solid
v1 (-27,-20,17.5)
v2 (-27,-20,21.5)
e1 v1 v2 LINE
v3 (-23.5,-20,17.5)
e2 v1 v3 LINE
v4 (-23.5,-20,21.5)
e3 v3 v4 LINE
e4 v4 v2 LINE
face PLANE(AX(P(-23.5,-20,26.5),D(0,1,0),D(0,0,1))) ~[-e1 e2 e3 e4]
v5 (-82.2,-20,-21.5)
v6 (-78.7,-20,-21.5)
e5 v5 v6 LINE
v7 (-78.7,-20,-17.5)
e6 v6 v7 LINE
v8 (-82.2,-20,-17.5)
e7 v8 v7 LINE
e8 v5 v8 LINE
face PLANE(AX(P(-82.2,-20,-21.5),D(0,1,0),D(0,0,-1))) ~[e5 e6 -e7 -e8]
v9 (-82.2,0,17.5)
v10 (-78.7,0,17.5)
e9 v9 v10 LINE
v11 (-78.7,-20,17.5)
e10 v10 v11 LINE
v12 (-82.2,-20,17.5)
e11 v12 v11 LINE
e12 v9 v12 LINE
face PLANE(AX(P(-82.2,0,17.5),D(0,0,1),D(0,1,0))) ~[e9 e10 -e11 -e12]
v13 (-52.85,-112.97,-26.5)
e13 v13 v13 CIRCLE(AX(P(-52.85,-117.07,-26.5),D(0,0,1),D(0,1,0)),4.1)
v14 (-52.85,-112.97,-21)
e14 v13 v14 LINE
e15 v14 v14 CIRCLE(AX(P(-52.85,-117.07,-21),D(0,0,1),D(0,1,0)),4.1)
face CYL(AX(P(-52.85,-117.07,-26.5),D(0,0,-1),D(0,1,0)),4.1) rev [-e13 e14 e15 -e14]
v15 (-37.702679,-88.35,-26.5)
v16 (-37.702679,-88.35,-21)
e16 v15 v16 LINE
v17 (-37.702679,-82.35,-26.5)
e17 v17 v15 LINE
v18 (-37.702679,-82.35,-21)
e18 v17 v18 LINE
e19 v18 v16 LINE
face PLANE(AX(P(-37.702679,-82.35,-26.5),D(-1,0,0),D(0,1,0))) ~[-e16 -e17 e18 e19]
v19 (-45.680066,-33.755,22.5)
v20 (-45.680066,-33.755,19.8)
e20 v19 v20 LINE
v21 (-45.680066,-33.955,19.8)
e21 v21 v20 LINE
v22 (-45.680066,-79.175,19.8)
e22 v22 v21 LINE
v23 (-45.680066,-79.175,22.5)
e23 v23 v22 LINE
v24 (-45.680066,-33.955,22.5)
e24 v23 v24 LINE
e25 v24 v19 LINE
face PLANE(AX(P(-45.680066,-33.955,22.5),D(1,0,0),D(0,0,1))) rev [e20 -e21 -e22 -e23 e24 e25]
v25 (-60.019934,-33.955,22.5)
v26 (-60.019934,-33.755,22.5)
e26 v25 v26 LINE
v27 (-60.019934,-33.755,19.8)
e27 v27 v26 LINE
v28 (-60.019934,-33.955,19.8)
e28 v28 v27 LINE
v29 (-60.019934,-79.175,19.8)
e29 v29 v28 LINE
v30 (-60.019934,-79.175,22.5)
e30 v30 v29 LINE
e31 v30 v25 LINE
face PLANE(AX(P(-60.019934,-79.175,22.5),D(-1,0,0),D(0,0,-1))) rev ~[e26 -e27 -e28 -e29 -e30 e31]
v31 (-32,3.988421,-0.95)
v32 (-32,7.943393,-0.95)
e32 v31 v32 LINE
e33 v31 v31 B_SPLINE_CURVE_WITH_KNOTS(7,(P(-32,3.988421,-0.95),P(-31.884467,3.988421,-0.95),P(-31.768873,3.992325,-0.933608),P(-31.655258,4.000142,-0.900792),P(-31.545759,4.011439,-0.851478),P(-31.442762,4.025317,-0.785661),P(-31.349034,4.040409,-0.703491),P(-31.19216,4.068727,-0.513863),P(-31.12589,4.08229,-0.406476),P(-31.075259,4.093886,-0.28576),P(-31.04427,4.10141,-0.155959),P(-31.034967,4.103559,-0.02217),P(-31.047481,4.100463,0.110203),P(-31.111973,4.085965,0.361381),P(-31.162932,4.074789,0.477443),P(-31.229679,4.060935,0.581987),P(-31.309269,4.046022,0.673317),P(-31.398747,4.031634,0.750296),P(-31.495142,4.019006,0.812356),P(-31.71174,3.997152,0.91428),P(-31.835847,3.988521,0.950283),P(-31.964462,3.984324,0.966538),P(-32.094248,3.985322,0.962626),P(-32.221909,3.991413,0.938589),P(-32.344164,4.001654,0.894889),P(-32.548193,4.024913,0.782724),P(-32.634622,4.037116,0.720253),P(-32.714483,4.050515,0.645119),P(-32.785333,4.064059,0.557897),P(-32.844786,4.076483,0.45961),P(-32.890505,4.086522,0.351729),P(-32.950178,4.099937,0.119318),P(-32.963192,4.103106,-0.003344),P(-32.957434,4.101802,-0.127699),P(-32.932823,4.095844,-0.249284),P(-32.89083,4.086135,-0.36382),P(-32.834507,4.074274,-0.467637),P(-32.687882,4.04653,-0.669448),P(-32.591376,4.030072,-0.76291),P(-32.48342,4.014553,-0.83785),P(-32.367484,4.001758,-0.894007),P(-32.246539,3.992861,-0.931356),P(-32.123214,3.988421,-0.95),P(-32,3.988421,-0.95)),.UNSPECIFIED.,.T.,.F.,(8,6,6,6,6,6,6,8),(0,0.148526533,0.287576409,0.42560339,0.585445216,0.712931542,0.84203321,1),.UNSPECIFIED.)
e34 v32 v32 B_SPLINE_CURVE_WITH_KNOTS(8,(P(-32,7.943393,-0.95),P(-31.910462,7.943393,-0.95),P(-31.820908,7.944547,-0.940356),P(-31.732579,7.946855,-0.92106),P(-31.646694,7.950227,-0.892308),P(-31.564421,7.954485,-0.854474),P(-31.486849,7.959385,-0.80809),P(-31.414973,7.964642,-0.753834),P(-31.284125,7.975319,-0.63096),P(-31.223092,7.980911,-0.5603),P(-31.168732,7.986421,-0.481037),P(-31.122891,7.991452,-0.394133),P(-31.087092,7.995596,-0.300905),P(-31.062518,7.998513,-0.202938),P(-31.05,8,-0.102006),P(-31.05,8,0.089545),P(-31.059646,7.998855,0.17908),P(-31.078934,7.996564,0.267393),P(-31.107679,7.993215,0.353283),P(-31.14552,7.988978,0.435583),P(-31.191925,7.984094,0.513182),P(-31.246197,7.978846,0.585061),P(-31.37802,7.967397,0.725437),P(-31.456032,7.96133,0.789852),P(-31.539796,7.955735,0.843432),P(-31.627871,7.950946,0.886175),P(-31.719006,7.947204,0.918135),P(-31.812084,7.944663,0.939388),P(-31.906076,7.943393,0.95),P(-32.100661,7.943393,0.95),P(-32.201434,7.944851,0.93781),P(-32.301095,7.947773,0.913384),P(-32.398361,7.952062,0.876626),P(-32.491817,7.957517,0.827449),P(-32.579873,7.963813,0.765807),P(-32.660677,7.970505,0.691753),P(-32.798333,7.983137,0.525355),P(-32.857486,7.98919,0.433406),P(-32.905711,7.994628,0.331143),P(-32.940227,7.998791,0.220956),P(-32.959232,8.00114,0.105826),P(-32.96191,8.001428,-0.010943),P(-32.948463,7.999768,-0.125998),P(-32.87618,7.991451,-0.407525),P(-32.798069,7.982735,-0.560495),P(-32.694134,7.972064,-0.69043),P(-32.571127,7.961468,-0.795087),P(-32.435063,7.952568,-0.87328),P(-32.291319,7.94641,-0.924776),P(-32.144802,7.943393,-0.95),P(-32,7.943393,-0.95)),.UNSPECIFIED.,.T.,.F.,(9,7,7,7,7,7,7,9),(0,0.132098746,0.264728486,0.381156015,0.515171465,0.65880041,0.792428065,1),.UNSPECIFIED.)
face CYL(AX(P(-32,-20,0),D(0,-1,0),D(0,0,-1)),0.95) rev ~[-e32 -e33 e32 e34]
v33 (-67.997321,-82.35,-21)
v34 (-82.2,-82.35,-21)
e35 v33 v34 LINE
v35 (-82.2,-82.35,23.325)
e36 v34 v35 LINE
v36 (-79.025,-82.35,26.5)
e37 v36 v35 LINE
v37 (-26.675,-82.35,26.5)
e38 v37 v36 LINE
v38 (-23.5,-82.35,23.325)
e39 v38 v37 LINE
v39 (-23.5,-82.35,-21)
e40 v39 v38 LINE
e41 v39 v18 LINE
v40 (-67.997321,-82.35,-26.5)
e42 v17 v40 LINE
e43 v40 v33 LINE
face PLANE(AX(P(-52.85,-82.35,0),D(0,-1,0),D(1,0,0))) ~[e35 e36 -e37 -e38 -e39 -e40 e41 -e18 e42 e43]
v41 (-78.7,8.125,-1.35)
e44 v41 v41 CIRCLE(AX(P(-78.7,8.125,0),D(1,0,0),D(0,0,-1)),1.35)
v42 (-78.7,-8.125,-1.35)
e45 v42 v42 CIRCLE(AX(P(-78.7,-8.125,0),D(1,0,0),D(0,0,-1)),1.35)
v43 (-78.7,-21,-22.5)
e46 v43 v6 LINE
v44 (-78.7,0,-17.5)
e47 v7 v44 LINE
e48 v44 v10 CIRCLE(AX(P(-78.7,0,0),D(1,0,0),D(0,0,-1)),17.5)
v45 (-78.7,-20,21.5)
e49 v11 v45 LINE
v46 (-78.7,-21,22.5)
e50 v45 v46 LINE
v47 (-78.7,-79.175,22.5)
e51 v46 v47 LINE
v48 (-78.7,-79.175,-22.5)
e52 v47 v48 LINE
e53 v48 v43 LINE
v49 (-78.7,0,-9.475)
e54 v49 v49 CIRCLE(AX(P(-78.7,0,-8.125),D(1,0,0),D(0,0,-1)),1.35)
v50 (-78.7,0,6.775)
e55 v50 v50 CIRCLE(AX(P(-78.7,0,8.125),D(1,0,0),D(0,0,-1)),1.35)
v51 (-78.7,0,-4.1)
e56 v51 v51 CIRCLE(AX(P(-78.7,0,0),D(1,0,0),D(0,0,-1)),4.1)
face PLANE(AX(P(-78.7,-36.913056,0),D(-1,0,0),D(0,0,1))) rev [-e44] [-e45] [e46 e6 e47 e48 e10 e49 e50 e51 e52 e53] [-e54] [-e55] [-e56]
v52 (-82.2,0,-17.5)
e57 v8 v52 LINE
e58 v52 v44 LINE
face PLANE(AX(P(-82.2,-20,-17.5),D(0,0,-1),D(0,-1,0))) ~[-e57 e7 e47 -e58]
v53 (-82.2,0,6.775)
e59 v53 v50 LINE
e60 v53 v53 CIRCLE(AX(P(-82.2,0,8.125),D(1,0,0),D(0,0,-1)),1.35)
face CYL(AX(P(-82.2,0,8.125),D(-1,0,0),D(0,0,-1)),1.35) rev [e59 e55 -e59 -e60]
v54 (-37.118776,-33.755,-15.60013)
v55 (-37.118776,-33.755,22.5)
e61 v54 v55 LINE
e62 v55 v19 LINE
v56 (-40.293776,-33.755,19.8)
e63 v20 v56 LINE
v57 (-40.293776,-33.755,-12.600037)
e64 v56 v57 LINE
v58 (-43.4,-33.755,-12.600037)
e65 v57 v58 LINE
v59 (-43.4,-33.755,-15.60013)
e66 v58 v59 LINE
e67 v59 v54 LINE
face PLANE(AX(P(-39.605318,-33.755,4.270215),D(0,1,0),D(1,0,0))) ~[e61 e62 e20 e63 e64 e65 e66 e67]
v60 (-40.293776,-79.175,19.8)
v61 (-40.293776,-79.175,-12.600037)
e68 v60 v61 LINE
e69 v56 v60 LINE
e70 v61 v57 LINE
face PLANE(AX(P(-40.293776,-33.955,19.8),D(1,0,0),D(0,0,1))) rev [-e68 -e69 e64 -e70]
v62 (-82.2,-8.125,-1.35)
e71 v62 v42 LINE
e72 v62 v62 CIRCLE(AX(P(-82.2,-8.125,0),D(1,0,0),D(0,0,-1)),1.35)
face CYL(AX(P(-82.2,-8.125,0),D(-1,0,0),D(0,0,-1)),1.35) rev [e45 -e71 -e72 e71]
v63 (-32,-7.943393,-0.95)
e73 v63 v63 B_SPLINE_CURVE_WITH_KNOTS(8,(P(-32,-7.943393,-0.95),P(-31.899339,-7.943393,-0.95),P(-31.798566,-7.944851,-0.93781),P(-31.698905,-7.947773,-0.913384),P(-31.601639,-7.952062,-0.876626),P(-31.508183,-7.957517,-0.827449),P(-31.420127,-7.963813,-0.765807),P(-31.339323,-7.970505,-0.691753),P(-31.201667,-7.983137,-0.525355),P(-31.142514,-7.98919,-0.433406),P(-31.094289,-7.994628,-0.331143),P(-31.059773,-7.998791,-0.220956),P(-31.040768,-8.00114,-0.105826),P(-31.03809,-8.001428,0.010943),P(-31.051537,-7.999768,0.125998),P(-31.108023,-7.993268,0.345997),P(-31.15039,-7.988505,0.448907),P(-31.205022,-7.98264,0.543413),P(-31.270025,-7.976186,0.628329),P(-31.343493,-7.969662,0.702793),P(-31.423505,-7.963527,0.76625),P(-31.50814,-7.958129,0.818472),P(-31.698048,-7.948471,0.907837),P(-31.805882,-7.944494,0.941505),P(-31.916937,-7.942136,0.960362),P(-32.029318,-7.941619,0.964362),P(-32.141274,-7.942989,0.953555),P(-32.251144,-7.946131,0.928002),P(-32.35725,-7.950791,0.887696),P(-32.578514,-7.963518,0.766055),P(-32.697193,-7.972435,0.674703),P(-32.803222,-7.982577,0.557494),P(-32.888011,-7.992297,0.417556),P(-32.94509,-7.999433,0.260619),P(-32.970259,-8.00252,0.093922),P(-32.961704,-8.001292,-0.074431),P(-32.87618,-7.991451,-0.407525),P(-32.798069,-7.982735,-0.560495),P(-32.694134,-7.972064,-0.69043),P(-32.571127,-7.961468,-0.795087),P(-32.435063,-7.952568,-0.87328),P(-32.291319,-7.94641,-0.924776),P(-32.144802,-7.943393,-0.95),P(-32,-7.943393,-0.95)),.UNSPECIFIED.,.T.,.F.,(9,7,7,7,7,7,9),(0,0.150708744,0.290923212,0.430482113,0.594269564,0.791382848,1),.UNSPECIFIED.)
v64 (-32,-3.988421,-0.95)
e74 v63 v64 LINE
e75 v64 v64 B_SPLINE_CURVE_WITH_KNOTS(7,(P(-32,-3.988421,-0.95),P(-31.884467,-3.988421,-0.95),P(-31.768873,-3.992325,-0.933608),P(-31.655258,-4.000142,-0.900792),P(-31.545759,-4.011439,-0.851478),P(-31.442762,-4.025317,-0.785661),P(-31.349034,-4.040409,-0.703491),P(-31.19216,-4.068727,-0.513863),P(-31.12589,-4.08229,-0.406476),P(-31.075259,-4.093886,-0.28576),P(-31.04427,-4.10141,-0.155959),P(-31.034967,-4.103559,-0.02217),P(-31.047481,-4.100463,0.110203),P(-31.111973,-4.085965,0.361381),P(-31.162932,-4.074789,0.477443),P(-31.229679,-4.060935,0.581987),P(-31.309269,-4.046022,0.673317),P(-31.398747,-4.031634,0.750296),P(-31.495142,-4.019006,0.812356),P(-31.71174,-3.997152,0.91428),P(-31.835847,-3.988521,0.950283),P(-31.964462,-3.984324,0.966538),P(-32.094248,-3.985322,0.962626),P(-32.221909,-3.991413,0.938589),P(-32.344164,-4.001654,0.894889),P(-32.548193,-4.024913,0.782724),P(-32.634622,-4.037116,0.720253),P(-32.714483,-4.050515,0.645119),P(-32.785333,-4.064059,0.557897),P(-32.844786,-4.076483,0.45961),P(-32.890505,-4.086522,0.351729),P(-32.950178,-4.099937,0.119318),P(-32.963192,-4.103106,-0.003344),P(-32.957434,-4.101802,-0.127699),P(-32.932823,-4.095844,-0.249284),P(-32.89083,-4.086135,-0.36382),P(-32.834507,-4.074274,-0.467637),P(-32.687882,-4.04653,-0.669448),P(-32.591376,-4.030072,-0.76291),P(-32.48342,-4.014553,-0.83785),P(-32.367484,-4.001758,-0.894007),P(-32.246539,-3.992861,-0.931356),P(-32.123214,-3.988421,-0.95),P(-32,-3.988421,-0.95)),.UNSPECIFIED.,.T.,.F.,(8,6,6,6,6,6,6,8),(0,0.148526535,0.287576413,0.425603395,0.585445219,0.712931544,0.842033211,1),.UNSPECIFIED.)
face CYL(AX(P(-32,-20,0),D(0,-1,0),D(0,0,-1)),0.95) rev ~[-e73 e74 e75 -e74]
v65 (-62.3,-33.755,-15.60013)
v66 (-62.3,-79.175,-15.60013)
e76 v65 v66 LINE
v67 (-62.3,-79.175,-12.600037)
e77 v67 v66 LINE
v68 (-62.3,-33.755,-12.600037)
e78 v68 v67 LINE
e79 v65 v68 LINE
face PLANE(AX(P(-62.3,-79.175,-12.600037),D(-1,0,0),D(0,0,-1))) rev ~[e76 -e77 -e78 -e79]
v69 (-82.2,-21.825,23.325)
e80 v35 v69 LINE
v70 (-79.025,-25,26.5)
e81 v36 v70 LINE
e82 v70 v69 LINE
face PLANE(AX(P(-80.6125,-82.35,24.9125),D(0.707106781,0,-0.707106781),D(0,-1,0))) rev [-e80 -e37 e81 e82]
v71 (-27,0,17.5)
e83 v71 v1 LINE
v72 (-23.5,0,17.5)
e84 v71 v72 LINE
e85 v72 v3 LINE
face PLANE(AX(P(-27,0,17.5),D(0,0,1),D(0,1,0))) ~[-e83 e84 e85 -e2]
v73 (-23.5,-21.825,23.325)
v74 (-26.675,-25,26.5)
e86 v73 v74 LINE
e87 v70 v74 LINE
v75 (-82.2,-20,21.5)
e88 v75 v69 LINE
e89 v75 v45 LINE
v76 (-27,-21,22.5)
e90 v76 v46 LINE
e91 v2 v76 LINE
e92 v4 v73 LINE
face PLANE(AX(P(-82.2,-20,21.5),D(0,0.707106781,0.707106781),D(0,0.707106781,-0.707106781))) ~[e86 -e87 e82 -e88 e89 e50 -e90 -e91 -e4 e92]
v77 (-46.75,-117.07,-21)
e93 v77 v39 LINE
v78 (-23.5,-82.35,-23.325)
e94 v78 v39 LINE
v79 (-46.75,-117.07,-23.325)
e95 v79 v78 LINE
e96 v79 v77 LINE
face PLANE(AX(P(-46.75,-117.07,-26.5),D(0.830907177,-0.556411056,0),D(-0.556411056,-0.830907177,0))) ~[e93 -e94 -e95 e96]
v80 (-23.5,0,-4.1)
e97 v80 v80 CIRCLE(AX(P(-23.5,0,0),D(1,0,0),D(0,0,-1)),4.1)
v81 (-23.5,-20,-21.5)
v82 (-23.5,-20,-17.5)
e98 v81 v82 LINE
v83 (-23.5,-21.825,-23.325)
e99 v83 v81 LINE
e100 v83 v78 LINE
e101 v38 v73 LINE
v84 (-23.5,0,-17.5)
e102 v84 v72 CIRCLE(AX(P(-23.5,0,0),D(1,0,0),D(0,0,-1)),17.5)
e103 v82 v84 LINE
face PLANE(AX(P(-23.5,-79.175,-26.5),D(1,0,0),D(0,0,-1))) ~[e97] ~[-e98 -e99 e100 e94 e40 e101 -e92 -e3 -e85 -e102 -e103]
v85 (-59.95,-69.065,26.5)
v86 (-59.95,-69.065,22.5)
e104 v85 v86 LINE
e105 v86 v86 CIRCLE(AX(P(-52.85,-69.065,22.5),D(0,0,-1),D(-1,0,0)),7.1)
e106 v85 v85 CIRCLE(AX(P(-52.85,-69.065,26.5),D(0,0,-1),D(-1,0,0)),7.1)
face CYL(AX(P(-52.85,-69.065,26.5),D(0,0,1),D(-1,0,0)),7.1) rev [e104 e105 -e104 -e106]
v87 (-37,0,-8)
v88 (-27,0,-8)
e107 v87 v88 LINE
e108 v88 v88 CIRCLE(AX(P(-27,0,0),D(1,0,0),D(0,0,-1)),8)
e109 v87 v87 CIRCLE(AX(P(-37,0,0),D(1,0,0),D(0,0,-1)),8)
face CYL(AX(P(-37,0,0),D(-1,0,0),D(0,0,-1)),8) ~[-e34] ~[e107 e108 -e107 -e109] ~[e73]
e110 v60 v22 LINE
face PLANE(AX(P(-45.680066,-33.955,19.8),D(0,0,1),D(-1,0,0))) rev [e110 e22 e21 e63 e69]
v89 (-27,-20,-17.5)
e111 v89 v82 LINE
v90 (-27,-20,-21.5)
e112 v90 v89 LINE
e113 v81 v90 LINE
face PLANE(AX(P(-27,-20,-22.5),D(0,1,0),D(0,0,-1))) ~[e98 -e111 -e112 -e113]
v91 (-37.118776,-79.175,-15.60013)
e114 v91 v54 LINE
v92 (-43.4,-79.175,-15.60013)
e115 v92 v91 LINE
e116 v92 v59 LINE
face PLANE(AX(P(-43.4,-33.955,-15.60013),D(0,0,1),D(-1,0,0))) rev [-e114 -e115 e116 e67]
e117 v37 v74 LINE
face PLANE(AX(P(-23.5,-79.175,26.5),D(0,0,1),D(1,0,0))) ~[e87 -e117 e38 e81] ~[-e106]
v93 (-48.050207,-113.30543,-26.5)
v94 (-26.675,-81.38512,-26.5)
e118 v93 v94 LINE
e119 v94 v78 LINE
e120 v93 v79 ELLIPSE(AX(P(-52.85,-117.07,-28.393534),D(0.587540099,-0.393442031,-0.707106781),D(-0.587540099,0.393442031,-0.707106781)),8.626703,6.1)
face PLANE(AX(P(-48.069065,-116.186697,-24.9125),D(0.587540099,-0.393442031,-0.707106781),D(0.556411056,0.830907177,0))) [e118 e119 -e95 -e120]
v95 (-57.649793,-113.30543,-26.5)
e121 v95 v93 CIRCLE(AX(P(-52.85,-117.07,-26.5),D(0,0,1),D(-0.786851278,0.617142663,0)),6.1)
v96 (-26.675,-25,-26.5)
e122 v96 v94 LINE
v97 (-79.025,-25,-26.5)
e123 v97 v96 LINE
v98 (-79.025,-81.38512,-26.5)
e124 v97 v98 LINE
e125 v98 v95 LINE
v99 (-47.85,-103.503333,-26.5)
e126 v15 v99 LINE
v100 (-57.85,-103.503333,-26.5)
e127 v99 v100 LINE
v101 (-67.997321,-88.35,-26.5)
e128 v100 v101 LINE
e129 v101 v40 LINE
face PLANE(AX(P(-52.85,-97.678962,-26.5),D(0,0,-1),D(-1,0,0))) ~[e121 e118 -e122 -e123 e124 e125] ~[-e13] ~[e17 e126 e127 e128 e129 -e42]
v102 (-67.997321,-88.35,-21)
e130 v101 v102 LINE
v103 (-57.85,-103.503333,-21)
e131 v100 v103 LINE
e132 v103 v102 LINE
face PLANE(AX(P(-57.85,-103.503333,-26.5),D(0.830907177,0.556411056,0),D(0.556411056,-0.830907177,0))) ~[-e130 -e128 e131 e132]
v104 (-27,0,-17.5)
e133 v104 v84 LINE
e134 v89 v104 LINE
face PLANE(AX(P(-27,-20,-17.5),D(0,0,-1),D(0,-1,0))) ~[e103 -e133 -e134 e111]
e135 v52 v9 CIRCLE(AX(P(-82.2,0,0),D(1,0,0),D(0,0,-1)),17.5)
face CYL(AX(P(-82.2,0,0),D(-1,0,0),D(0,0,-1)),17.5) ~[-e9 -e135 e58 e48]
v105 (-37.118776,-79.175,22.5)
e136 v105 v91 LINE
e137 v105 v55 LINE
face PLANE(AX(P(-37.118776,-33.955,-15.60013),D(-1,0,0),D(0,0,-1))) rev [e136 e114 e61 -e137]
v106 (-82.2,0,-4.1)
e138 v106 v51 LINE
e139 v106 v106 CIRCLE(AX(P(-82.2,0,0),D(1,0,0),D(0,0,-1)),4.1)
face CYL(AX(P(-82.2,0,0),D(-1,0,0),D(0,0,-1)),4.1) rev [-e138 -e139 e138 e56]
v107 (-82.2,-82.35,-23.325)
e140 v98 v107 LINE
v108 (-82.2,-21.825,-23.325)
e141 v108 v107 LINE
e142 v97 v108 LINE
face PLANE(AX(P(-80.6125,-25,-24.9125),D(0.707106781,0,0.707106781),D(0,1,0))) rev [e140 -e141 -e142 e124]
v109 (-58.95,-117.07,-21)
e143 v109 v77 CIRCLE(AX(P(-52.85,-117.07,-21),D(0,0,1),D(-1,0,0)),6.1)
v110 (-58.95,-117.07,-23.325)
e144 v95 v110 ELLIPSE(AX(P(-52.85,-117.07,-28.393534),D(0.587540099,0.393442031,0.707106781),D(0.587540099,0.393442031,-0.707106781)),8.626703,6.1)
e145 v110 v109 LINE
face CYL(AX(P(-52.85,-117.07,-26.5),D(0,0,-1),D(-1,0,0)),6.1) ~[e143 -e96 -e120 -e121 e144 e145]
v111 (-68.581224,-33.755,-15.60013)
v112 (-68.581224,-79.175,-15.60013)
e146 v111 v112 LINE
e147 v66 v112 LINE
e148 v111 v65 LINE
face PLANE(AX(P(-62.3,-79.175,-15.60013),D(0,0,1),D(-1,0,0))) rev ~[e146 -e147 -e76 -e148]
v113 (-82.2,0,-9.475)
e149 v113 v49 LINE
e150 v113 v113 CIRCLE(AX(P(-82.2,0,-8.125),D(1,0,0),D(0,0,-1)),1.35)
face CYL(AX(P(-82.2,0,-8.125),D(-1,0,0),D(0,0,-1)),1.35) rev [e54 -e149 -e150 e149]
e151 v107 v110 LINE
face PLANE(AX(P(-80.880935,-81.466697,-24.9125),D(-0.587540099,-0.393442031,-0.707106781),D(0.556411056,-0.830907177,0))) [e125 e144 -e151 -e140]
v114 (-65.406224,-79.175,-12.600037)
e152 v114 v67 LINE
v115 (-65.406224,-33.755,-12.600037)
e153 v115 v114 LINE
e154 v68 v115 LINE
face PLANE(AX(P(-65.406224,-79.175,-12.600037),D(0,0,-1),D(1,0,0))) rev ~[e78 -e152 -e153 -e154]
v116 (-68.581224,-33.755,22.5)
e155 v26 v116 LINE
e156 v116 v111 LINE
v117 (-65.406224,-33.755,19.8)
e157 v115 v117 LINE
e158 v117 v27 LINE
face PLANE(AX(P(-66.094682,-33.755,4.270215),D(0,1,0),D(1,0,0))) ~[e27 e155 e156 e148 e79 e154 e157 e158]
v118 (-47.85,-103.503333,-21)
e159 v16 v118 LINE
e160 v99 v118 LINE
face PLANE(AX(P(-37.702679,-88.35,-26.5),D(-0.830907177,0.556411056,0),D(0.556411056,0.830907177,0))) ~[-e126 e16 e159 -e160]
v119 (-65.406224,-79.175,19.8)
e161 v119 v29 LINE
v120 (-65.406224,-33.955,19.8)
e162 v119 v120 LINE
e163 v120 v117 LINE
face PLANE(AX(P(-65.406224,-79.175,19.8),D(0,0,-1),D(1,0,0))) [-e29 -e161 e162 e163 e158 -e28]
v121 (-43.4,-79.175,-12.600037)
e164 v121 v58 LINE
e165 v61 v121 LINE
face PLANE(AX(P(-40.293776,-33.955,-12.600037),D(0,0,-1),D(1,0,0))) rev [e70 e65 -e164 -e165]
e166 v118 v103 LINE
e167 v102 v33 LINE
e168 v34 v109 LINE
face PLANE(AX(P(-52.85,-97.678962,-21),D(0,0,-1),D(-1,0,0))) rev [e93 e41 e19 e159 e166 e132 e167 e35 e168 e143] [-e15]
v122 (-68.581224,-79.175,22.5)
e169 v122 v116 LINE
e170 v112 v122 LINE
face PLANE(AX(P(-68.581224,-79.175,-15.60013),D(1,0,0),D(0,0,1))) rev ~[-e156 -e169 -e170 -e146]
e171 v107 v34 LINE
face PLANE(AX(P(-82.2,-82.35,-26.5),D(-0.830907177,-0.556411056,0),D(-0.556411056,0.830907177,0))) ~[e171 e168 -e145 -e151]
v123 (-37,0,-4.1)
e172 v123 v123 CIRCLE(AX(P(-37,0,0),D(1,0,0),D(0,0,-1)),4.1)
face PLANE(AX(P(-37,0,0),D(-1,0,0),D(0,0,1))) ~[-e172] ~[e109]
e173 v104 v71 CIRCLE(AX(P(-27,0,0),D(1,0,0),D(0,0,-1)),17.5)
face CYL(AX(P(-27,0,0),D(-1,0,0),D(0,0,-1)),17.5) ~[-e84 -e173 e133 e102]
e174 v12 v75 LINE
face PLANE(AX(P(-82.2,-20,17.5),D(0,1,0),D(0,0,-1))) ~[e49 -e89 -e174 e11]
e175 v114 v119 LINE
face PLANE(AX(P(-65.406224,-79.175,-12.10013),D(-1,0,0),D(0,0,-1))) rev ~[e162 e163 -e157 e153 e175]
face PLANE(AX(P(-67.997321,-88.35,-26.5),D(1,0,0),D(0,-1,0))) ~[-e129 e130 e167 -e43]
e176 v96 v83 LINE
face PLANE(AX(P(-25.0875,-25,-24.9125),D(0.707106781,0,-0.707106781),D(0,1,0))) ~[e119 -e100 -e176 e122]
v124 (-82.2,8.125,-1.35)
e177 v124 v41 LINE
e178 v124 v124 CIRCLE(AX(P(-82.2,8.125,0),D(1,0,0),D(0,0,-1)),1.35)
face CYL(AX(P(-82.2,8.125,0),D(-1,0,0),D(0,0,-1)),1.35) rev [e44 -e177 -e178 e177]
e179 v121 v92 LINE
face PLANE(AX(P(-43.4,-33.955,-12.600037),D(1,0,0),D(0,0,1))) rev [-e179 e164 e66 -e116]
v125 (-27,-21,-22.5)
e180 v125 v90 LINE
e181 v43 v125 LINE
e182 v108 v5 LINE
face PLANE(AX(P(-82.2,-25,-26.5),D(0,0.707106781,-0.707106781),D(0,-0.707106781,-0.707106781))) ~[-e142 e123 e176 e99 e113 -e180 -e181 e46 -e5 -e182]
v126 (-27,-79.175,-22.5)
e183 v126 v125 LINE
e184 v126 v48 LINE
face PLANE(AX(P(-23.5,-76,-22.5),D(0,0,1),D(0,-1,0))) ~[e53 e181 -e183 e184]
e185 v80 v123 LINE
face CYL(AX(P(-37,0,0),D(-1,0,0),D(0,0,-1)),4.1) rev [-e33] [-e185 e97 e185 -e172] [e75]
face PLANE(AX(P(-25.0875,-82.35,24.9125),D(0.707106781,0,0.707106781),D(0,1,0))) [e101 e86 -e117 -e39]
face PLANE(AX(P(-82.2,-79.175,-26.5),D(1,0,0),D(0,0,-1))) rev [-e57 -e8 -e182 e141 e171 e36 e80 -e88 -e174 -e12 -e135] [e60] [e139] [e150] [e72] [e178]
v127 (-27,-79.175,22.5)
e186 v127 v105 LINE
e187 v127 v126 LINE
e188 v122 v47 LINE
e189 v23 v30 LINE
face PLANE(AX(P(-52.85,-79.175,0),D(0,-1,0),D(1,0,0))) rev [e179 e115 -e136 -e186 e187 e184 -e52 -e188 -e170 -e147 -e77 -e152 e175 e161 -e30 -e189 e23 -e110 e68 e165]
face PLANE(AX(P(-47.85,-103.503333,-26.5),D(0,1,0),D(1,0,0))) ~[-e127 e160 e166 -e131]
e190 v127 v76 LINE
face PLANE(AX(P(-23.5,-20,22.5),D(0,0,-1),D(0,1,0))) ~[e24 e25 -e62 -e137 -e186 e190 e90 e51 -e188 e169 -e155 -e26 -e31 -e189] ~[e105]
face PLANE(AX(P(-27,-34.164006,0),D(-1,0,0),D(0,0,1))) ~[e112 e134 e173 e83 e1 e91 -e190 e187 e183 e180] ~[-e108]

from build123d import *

# Parameters (mm, degrees)
SKETCH1_R                = 4.1
BOSS_EXTRUDE1_DEPTH      = 3.5
BOSS_EXTRUDE2_DEPTH      = 51.7
BOSS_EXTRUDE2_DEPTH_BACK = 3.5
CHAMFER2_SIZE            = 5
CUT_EXTRUDE1_REACH       = 112.079
SKETCH4_W                = 51.7
SKETCH4_H                = 45
BOSS_EXTRUDE3_START      = 3.5
SKETCH5_R                = 4.1
BOSS_EXTRUDE3_DEPTH      = 3.5
CUT_EXTRUDE3_REACH       = 104.062
SKETCH9_R                = 1.35
SKETCH10_W               = 58.7
SKETCH10_H               = 53
BOSS_EXTRUDE5_DEPTH      = 3.175
SKETCH26_R               = 7.1
CUT_EXTRUDE6_DEPTH       = 4
SKETCH27_W               = 3.175
SKETCH27_H               = 34.600130378
BOSS_EXTRUDE6_DEPTH      = 45.22
SKETCH29_R               = 4.1
BOSS_EXTRUDE8_DEPTH      = 5.5
CHAMFER3_SIZE            = 3.175
BOSS_EXTRUDE9_START      = 10
SKETCH30_R               = 8
SKETCH30_R_2             = 4.1
BOSS_EXTRUDE9_DEPTH      = 10
SKETCH31_R               = 0.95
CUT_EXTRUDE7_DEPTH       = 120.972242206
BOSS_EXTRUDE10_DEPTH     = 45.22
SKETCH33_W               = 5.386290257
SKETCH33_H               = 2.7
BOSS_EXTRUDE11_DEPTH     = 45.22
BOSS_EXTRUDE12_DEPTH     = 0.2


with BuildPart() as part:
    # Sketch1 → Boss-Extrude1 (new body)
    with BuildSketch(Plane(origin=(0, 0, 0), x_dir=(0, 0, -1), z_dir=(1, 0, 0))):
        with BuildLine():
            Line((-17.5, 0), (-17.5, -20))
            Line((-17.5, -20), (-22.5, -20))
            Line((-22.5, -20), (-22.5, -76))
            Line((-22.5, -76), (22.5, -76))
            Line((22.5, -76), (22.5, -20))
            Line((22.5, -20), (17.5, -20))
            Line((17.5, -20), (17.5, 0))
            ThreePointArc((17.5, 0), (0, 17.5), (-17.5, 0))
        make_face()
        Circle(SKETCH1_R, mode=Mode.SUBTRACT)
    extrude(amount=-BOSS_EXTRUDE1_DEPTH)

    # Sketch2 → Boss-Extrude2 (add, two sides: drawn at the far end of the back side and taken through both)
    with BuildSketch(Plane(origin=(0, 0, 0), x_dir=(0, 0, -1), z_dir=(1, 0, 0)).offset(-BOSS_EXTRUDE2_DEPTH_BACK)):
        Polygon((-22.5, -20), (-22.5, -76), (22.5, -76), (22.5, -20), (26.5, -20), (26.5, -79.175), (-26.5, -79.175), (-26.5, -20), align=None)
    extrude(amount=BOSS_EXTRUDE2_DEPTH + BOSS_EXTRUDE2_DEPTH_BACK)

    # Chamfer2
    chamfer2_edges = [part.edges().sort_by_distance(p)[0] for p in [
        (24.1, -20, -26.5),
        (24.1, -20, 26.5),
    ]]
    chamfer(chamfer2_edges, length=CHAMFER2_SIZE)

    # Sketch4 → Cut-Extrude1 (cut, up to next)
    with BuildSketch(Plane(origin=(0, -76, 0), x_dir=(1, 0, 0), z_dir=(0, 1, 0)), mode=Mode.PRIVATE) as cut_extrude1_sk1:
        with Locations((25.85, 0)):
            Rectangle(SKETCH4_W, SKETCH4_H)
    cut_extrude1_tool1 = extrude(cut_extrude1_sk1.sketch, amount=-CUT_EXTRUDE1_REACH, mode=Mode.PRIVATE) & part.part
    add(cut_extrude1_tool1.solids().sort_by_distance((25.85, -76, 0))[0], mode=Mode.SUBTRACT)

    # Sketch5 → Boss-Extrude3 (add)
    with BuildSketch(Plane(origin=(51.7, 0, 0), x_dir=(0, 0, -1), z_dir=(1, 0, 0)).offset(BOSS_EXTRUDE3_START)):
        with BuildLine():
            Line((21.5, -20), (17.5, -20))
            Line((17.5, -20), (17.5, 0))
            ThreePointArc((17.5, 0), (0, 17.5), (-17.5, 0))
            Line((-17.5, 0), (-17.5, -20))
            Line((-17.5, -20), (-21.5, -20))
            Line((-21.5, -20), (-26.5, -25))
            Line((-26.5, -25), (-26.5, -79.175))
            Line((-26.5, -79.175), (26.5, -79.175))
            Line((26.5, -79.175), (26.5, -25))
            Line((26.5, -25), (21.5, -20))
        make_face()
        Circle(SKETCH5_R, mode=Mode.SUBTRACT)
    extrude(amount=-BOSS_EXTRUDE3_DEPTH)

    # Sketch9 → Cut-Extrude3 (cut, up to next)
    with BuildSketch(Plane(origin=(55.2, 0, 0), x_dir=(0, 0, -1), z_dir=(1, 0, 0)), mode=Mode.PRIVATE) as cut_extrude3_sk1:
        with Locations((0, 8.125)):
            Circle(SKETCH9_R)
    cut_extrude3_tool1 = extrude(cut_extrude3_sk1.sketch, amount=-CUT_EXTRUDE3_REACH, mode=Mode.PRIVATE) & part.part
    # Sketch9 → Cut-Extrude3 (cut, up to next)
    with BuildSketch(Plane(origin=(55.2, 0, 0), x_dir=(0, 0, -1), z_dir=(1, 0, 0)), mode=Mode.PRIVATE) as cut_extrude3_sk2:
        with Locations((8.125, 0)):
            Circle(SKETCH9_R)
    cut_extrude3_tool2 = extrude(cut_extrude3_sk2.sketch, amount=-CUT_EXTRUDE3_REACH, mode=Mode.PRIVATE) & part.part
    # Sketch9 → Cut-Extrude3 (cut, up to next)
    with BuildSketch(Plane(origin=(55.2, 0, 0), x_dir=(0, 0, -1), z_dir=(1, 0, 0)), mode=Mode.PRIVATE) as cut_extrude3_sk3:
        with Locations((0, -8.125)):
            Circle(SKETCH9_R)
    cut_extrude3_tool3 = extrude(cut_extrude3_sk3.sketch, amount=-CUT_EXTRUDE3_REACH, mode=Mode.PRIVATE) & part.part
    # Sketch9 → Cut-Extrude3 (cut, up to next)
    with BuildSketch(Plane(origin=(55.2, 0, 0), x_dir=(0, 0, -1), z_dir=(1, 0, 0)), mode=Mode.PRIVATE) as cut_extrude3_sk4:
        with Locations((-8.125, 0)):
            Circle(SKETCH9_R)
    cut_extrude3_tool4 = extrude(cut_extrude3_sk4.sketch, amount=-CUT_EXTRUDE3_REACH, mode=Mode.PRIVATE) & part.part
    add(cut_extrude3_tool1.solids().sort_by_distance((55.2, 8.125, 0))[0], mode=Mode.SUBTRACT)
    add(cut_extrude3_tool2.solids().sort_by_distance((55.2, 0, -8.125))[0], mode=Mode.SUBTRACT)
    add(cut_extrude3_tool3.solids().sort_by_distance((55.2, -8.125, 0))[0], mode=Mode.SUBTRACT)
    add(cut_extrude3_tool4.solids().sort_by_distance((55.2, 0, 8.125))[0], mode=Mode.SUBTRACT)

    # Sketch10 → Boss-Extrude5 (add)
    with BuildSketch(Plane.XZ.offset(79.175)):
        with Locations((25.85, 0)):
            Rectangle(SKETCH10_W, SKETCH10_H)
    extrude(amount=BOSS_EXTRUDE5_DEPTH)

    # Sketch26 → Cut-Extrude6 (cut)
    with BuildSketch(Plane.XY.offset(26.5)):
        with Locations((25.85, -69.065)):
            Circle(SKETCH26_R)
    extrude(amount=-CUT_EXTRUDE6_DEPTH, mode=Mode.SUBTRACT)

    # Sketch27 → Boss-Extrude6 (add)
    with BuildSketch(Plane(origin=(0, -79.175, 0), x_dir=(1, 0, 0), z_dir=(0, 1, 0))):
        with Locations((39.993724488, -5.199934811)):
            Rectangle(SKETCH27_W, SKETCH27_H)
        with Locations((11.706275512, -5.199934811)):
            Rectangle(SKETCH27_W, SKETCH27_H)
    extrude(amount=BOSS_EXTRUDE6_DEPTH)

    # Sketch29 → Boss-Extrude8 (add)
    with BuildSketch(Plane(origin=(0, 0, -26.5), x_dir=(-1, 0, 0), z_dir=(0, 0, -1))):
        with BuildLine():
            Line((-40.997321429, -82.35), (-55.2, -82.35))
            Line((-55.2, -82.35), (-31.95, -117.07))
            ThreePointArc((-31.95, -117.07), (-25.85, -123.17), (-19.75, -117.07))
            Line((-19.75, -117.07), (3.5, -82.35))
            Line((3.5, -82.35), (-10.702678571, -82.35))
            Line((-10.702678571, -82.35), (-10.702678571, -88.35))
            Line((-10.702678571, -88.35), (-20.85, -103.503333333))
            Line((-20.85, -103.503333333), (-30.85, -103.503333333))
            Line((-30.85, -103.503333333), (-40.997321429, -88.35))
            Line((-40.997321429, -88.35), (-40.997321429, -82.35))
        make_face()
        with Locations(Location((-25.85, -117.07, 0), (0, 0, 90))):
            Circle(SKETCH29_R, mode=Mode.SUBTRACT)
    extrude(amount=-BOSS_EXTRUDE8_DEPTH)

    # Chamfer3
    chamfer3_edges = [part.edges().sort_by_distance(p)[0] for p in [
        (43.575, -99.71, -26.5),
        (8.125, -99.71, -26.5),
        (-3.5, -53.675, -26.5),
        (-3.5, -53.675, 26.5),
        (55.2, -53.675, 26.5),
        (55.2, -53.675, -26.5),
    ]]
    chamfer(chamfer3_edges, length=CHAMFER3_SIZE)

    # Sketch30 → Boss-Extrude9 (add)
    with BuildSketch(Plane(origin=(0, 0, 0), x_dir=(0, 0, -1), z_dir=(1, 0, 0)).offset(BOSS_EXTRUDE9_START)):
        Circle(SKETCH30_R)
        Circle(SKETCH30_R_2, mode=Mode.SUBTRACT)
    extrude(amount=-BOSS_EXTRUDE9_DEPTH)

    # Sketch31 → Cut-Extrude7 (cut, through all)
    with BuildSketch(Plane(origin=(0, -20, 0), x_dir=(1, 0, 0), z_dir=(0, 1, 0))):
        with Locations(Location((5, 0, 0), (0, 0, 90))):
            Circle(SKETCH31_R)
    extrude(amount=CUT_EXTRUDE7_DEPTH, mode=Mode.SUBTRACT)

    # Sketch32 → Boss-Extrude10 (add)
    with BuildSketch(Plane(origin=(0, -79.175, 0), x_dir=(1, 0, 0), z_dir=(0, 1, 0))):
        Polygon((13.293775512, 12.600036526), (16.4, 12.600036526), (16.4, 15.600130378), (10.118775512, 15.600130378), (10.118775512, 12.100130378), (13.293775512, 12.100130378), align=None)
    boss_extrude10 = extrude(amount=BOSS_EXTRUDE10_DEPTH)

    # Sketch33 → Boss-Extrude11 (add)
    with BuildSketch(Plane(origin=(0, -79.175, 0), x_dir=(1, 0, 0), z_dir=(0, 1, 0))):
        with Locations((15.986920641, -21.15)):
            Rectangle(SKETCH33_W, SKETCH33_H)
    boss_extrude11 = extrude(amount=BOSS_EXTRUDE11_DEPTH)

    # Mirror1: Boss-Extrude10, Boss-Extrude11 across plane
    add(boss_extrude10.mirror(Plane.ZY.offset(-25.85)))
    add(boss_extrude11.mirror(Plane.ZY.offset(-25.85)))

    # Sketch34 → Boss-Extrude12 (add)
    with BuildSketch(Plane(origin=(0, -33.955, 0), x_dir=(1, 0, 0), z_dir=(0, 1, 0))):
        Polygon((13.293775512, -19.8), (13.293775512, 12.600036526), (16.4, 12.600036526), (16.4, 15.600130378), (10.118775512, 15.600130378), (10.118775512, -22.5), (18.680065769, -22.5), (18.680065769, -19.8), align=None)
        Polygon((41.581224488, -22.5), (41.581224488, 15.600130378), (35.3, 15.600130378), (35.3, 12.600036526), (38.406224488, 12.600036526), (38.406224488, -19.8), (33.019934231, -19.8), (33.019934231, -22.5), align=None)
    extrude(amount=BOSS_EXTRUDE12_DEPTH)


with BuildPart() as body_2:
    # Mirror3: mirrored copy
    add(part.part.mirror(Plane.ZY.offset(13.5)))


solid = body_2.part
